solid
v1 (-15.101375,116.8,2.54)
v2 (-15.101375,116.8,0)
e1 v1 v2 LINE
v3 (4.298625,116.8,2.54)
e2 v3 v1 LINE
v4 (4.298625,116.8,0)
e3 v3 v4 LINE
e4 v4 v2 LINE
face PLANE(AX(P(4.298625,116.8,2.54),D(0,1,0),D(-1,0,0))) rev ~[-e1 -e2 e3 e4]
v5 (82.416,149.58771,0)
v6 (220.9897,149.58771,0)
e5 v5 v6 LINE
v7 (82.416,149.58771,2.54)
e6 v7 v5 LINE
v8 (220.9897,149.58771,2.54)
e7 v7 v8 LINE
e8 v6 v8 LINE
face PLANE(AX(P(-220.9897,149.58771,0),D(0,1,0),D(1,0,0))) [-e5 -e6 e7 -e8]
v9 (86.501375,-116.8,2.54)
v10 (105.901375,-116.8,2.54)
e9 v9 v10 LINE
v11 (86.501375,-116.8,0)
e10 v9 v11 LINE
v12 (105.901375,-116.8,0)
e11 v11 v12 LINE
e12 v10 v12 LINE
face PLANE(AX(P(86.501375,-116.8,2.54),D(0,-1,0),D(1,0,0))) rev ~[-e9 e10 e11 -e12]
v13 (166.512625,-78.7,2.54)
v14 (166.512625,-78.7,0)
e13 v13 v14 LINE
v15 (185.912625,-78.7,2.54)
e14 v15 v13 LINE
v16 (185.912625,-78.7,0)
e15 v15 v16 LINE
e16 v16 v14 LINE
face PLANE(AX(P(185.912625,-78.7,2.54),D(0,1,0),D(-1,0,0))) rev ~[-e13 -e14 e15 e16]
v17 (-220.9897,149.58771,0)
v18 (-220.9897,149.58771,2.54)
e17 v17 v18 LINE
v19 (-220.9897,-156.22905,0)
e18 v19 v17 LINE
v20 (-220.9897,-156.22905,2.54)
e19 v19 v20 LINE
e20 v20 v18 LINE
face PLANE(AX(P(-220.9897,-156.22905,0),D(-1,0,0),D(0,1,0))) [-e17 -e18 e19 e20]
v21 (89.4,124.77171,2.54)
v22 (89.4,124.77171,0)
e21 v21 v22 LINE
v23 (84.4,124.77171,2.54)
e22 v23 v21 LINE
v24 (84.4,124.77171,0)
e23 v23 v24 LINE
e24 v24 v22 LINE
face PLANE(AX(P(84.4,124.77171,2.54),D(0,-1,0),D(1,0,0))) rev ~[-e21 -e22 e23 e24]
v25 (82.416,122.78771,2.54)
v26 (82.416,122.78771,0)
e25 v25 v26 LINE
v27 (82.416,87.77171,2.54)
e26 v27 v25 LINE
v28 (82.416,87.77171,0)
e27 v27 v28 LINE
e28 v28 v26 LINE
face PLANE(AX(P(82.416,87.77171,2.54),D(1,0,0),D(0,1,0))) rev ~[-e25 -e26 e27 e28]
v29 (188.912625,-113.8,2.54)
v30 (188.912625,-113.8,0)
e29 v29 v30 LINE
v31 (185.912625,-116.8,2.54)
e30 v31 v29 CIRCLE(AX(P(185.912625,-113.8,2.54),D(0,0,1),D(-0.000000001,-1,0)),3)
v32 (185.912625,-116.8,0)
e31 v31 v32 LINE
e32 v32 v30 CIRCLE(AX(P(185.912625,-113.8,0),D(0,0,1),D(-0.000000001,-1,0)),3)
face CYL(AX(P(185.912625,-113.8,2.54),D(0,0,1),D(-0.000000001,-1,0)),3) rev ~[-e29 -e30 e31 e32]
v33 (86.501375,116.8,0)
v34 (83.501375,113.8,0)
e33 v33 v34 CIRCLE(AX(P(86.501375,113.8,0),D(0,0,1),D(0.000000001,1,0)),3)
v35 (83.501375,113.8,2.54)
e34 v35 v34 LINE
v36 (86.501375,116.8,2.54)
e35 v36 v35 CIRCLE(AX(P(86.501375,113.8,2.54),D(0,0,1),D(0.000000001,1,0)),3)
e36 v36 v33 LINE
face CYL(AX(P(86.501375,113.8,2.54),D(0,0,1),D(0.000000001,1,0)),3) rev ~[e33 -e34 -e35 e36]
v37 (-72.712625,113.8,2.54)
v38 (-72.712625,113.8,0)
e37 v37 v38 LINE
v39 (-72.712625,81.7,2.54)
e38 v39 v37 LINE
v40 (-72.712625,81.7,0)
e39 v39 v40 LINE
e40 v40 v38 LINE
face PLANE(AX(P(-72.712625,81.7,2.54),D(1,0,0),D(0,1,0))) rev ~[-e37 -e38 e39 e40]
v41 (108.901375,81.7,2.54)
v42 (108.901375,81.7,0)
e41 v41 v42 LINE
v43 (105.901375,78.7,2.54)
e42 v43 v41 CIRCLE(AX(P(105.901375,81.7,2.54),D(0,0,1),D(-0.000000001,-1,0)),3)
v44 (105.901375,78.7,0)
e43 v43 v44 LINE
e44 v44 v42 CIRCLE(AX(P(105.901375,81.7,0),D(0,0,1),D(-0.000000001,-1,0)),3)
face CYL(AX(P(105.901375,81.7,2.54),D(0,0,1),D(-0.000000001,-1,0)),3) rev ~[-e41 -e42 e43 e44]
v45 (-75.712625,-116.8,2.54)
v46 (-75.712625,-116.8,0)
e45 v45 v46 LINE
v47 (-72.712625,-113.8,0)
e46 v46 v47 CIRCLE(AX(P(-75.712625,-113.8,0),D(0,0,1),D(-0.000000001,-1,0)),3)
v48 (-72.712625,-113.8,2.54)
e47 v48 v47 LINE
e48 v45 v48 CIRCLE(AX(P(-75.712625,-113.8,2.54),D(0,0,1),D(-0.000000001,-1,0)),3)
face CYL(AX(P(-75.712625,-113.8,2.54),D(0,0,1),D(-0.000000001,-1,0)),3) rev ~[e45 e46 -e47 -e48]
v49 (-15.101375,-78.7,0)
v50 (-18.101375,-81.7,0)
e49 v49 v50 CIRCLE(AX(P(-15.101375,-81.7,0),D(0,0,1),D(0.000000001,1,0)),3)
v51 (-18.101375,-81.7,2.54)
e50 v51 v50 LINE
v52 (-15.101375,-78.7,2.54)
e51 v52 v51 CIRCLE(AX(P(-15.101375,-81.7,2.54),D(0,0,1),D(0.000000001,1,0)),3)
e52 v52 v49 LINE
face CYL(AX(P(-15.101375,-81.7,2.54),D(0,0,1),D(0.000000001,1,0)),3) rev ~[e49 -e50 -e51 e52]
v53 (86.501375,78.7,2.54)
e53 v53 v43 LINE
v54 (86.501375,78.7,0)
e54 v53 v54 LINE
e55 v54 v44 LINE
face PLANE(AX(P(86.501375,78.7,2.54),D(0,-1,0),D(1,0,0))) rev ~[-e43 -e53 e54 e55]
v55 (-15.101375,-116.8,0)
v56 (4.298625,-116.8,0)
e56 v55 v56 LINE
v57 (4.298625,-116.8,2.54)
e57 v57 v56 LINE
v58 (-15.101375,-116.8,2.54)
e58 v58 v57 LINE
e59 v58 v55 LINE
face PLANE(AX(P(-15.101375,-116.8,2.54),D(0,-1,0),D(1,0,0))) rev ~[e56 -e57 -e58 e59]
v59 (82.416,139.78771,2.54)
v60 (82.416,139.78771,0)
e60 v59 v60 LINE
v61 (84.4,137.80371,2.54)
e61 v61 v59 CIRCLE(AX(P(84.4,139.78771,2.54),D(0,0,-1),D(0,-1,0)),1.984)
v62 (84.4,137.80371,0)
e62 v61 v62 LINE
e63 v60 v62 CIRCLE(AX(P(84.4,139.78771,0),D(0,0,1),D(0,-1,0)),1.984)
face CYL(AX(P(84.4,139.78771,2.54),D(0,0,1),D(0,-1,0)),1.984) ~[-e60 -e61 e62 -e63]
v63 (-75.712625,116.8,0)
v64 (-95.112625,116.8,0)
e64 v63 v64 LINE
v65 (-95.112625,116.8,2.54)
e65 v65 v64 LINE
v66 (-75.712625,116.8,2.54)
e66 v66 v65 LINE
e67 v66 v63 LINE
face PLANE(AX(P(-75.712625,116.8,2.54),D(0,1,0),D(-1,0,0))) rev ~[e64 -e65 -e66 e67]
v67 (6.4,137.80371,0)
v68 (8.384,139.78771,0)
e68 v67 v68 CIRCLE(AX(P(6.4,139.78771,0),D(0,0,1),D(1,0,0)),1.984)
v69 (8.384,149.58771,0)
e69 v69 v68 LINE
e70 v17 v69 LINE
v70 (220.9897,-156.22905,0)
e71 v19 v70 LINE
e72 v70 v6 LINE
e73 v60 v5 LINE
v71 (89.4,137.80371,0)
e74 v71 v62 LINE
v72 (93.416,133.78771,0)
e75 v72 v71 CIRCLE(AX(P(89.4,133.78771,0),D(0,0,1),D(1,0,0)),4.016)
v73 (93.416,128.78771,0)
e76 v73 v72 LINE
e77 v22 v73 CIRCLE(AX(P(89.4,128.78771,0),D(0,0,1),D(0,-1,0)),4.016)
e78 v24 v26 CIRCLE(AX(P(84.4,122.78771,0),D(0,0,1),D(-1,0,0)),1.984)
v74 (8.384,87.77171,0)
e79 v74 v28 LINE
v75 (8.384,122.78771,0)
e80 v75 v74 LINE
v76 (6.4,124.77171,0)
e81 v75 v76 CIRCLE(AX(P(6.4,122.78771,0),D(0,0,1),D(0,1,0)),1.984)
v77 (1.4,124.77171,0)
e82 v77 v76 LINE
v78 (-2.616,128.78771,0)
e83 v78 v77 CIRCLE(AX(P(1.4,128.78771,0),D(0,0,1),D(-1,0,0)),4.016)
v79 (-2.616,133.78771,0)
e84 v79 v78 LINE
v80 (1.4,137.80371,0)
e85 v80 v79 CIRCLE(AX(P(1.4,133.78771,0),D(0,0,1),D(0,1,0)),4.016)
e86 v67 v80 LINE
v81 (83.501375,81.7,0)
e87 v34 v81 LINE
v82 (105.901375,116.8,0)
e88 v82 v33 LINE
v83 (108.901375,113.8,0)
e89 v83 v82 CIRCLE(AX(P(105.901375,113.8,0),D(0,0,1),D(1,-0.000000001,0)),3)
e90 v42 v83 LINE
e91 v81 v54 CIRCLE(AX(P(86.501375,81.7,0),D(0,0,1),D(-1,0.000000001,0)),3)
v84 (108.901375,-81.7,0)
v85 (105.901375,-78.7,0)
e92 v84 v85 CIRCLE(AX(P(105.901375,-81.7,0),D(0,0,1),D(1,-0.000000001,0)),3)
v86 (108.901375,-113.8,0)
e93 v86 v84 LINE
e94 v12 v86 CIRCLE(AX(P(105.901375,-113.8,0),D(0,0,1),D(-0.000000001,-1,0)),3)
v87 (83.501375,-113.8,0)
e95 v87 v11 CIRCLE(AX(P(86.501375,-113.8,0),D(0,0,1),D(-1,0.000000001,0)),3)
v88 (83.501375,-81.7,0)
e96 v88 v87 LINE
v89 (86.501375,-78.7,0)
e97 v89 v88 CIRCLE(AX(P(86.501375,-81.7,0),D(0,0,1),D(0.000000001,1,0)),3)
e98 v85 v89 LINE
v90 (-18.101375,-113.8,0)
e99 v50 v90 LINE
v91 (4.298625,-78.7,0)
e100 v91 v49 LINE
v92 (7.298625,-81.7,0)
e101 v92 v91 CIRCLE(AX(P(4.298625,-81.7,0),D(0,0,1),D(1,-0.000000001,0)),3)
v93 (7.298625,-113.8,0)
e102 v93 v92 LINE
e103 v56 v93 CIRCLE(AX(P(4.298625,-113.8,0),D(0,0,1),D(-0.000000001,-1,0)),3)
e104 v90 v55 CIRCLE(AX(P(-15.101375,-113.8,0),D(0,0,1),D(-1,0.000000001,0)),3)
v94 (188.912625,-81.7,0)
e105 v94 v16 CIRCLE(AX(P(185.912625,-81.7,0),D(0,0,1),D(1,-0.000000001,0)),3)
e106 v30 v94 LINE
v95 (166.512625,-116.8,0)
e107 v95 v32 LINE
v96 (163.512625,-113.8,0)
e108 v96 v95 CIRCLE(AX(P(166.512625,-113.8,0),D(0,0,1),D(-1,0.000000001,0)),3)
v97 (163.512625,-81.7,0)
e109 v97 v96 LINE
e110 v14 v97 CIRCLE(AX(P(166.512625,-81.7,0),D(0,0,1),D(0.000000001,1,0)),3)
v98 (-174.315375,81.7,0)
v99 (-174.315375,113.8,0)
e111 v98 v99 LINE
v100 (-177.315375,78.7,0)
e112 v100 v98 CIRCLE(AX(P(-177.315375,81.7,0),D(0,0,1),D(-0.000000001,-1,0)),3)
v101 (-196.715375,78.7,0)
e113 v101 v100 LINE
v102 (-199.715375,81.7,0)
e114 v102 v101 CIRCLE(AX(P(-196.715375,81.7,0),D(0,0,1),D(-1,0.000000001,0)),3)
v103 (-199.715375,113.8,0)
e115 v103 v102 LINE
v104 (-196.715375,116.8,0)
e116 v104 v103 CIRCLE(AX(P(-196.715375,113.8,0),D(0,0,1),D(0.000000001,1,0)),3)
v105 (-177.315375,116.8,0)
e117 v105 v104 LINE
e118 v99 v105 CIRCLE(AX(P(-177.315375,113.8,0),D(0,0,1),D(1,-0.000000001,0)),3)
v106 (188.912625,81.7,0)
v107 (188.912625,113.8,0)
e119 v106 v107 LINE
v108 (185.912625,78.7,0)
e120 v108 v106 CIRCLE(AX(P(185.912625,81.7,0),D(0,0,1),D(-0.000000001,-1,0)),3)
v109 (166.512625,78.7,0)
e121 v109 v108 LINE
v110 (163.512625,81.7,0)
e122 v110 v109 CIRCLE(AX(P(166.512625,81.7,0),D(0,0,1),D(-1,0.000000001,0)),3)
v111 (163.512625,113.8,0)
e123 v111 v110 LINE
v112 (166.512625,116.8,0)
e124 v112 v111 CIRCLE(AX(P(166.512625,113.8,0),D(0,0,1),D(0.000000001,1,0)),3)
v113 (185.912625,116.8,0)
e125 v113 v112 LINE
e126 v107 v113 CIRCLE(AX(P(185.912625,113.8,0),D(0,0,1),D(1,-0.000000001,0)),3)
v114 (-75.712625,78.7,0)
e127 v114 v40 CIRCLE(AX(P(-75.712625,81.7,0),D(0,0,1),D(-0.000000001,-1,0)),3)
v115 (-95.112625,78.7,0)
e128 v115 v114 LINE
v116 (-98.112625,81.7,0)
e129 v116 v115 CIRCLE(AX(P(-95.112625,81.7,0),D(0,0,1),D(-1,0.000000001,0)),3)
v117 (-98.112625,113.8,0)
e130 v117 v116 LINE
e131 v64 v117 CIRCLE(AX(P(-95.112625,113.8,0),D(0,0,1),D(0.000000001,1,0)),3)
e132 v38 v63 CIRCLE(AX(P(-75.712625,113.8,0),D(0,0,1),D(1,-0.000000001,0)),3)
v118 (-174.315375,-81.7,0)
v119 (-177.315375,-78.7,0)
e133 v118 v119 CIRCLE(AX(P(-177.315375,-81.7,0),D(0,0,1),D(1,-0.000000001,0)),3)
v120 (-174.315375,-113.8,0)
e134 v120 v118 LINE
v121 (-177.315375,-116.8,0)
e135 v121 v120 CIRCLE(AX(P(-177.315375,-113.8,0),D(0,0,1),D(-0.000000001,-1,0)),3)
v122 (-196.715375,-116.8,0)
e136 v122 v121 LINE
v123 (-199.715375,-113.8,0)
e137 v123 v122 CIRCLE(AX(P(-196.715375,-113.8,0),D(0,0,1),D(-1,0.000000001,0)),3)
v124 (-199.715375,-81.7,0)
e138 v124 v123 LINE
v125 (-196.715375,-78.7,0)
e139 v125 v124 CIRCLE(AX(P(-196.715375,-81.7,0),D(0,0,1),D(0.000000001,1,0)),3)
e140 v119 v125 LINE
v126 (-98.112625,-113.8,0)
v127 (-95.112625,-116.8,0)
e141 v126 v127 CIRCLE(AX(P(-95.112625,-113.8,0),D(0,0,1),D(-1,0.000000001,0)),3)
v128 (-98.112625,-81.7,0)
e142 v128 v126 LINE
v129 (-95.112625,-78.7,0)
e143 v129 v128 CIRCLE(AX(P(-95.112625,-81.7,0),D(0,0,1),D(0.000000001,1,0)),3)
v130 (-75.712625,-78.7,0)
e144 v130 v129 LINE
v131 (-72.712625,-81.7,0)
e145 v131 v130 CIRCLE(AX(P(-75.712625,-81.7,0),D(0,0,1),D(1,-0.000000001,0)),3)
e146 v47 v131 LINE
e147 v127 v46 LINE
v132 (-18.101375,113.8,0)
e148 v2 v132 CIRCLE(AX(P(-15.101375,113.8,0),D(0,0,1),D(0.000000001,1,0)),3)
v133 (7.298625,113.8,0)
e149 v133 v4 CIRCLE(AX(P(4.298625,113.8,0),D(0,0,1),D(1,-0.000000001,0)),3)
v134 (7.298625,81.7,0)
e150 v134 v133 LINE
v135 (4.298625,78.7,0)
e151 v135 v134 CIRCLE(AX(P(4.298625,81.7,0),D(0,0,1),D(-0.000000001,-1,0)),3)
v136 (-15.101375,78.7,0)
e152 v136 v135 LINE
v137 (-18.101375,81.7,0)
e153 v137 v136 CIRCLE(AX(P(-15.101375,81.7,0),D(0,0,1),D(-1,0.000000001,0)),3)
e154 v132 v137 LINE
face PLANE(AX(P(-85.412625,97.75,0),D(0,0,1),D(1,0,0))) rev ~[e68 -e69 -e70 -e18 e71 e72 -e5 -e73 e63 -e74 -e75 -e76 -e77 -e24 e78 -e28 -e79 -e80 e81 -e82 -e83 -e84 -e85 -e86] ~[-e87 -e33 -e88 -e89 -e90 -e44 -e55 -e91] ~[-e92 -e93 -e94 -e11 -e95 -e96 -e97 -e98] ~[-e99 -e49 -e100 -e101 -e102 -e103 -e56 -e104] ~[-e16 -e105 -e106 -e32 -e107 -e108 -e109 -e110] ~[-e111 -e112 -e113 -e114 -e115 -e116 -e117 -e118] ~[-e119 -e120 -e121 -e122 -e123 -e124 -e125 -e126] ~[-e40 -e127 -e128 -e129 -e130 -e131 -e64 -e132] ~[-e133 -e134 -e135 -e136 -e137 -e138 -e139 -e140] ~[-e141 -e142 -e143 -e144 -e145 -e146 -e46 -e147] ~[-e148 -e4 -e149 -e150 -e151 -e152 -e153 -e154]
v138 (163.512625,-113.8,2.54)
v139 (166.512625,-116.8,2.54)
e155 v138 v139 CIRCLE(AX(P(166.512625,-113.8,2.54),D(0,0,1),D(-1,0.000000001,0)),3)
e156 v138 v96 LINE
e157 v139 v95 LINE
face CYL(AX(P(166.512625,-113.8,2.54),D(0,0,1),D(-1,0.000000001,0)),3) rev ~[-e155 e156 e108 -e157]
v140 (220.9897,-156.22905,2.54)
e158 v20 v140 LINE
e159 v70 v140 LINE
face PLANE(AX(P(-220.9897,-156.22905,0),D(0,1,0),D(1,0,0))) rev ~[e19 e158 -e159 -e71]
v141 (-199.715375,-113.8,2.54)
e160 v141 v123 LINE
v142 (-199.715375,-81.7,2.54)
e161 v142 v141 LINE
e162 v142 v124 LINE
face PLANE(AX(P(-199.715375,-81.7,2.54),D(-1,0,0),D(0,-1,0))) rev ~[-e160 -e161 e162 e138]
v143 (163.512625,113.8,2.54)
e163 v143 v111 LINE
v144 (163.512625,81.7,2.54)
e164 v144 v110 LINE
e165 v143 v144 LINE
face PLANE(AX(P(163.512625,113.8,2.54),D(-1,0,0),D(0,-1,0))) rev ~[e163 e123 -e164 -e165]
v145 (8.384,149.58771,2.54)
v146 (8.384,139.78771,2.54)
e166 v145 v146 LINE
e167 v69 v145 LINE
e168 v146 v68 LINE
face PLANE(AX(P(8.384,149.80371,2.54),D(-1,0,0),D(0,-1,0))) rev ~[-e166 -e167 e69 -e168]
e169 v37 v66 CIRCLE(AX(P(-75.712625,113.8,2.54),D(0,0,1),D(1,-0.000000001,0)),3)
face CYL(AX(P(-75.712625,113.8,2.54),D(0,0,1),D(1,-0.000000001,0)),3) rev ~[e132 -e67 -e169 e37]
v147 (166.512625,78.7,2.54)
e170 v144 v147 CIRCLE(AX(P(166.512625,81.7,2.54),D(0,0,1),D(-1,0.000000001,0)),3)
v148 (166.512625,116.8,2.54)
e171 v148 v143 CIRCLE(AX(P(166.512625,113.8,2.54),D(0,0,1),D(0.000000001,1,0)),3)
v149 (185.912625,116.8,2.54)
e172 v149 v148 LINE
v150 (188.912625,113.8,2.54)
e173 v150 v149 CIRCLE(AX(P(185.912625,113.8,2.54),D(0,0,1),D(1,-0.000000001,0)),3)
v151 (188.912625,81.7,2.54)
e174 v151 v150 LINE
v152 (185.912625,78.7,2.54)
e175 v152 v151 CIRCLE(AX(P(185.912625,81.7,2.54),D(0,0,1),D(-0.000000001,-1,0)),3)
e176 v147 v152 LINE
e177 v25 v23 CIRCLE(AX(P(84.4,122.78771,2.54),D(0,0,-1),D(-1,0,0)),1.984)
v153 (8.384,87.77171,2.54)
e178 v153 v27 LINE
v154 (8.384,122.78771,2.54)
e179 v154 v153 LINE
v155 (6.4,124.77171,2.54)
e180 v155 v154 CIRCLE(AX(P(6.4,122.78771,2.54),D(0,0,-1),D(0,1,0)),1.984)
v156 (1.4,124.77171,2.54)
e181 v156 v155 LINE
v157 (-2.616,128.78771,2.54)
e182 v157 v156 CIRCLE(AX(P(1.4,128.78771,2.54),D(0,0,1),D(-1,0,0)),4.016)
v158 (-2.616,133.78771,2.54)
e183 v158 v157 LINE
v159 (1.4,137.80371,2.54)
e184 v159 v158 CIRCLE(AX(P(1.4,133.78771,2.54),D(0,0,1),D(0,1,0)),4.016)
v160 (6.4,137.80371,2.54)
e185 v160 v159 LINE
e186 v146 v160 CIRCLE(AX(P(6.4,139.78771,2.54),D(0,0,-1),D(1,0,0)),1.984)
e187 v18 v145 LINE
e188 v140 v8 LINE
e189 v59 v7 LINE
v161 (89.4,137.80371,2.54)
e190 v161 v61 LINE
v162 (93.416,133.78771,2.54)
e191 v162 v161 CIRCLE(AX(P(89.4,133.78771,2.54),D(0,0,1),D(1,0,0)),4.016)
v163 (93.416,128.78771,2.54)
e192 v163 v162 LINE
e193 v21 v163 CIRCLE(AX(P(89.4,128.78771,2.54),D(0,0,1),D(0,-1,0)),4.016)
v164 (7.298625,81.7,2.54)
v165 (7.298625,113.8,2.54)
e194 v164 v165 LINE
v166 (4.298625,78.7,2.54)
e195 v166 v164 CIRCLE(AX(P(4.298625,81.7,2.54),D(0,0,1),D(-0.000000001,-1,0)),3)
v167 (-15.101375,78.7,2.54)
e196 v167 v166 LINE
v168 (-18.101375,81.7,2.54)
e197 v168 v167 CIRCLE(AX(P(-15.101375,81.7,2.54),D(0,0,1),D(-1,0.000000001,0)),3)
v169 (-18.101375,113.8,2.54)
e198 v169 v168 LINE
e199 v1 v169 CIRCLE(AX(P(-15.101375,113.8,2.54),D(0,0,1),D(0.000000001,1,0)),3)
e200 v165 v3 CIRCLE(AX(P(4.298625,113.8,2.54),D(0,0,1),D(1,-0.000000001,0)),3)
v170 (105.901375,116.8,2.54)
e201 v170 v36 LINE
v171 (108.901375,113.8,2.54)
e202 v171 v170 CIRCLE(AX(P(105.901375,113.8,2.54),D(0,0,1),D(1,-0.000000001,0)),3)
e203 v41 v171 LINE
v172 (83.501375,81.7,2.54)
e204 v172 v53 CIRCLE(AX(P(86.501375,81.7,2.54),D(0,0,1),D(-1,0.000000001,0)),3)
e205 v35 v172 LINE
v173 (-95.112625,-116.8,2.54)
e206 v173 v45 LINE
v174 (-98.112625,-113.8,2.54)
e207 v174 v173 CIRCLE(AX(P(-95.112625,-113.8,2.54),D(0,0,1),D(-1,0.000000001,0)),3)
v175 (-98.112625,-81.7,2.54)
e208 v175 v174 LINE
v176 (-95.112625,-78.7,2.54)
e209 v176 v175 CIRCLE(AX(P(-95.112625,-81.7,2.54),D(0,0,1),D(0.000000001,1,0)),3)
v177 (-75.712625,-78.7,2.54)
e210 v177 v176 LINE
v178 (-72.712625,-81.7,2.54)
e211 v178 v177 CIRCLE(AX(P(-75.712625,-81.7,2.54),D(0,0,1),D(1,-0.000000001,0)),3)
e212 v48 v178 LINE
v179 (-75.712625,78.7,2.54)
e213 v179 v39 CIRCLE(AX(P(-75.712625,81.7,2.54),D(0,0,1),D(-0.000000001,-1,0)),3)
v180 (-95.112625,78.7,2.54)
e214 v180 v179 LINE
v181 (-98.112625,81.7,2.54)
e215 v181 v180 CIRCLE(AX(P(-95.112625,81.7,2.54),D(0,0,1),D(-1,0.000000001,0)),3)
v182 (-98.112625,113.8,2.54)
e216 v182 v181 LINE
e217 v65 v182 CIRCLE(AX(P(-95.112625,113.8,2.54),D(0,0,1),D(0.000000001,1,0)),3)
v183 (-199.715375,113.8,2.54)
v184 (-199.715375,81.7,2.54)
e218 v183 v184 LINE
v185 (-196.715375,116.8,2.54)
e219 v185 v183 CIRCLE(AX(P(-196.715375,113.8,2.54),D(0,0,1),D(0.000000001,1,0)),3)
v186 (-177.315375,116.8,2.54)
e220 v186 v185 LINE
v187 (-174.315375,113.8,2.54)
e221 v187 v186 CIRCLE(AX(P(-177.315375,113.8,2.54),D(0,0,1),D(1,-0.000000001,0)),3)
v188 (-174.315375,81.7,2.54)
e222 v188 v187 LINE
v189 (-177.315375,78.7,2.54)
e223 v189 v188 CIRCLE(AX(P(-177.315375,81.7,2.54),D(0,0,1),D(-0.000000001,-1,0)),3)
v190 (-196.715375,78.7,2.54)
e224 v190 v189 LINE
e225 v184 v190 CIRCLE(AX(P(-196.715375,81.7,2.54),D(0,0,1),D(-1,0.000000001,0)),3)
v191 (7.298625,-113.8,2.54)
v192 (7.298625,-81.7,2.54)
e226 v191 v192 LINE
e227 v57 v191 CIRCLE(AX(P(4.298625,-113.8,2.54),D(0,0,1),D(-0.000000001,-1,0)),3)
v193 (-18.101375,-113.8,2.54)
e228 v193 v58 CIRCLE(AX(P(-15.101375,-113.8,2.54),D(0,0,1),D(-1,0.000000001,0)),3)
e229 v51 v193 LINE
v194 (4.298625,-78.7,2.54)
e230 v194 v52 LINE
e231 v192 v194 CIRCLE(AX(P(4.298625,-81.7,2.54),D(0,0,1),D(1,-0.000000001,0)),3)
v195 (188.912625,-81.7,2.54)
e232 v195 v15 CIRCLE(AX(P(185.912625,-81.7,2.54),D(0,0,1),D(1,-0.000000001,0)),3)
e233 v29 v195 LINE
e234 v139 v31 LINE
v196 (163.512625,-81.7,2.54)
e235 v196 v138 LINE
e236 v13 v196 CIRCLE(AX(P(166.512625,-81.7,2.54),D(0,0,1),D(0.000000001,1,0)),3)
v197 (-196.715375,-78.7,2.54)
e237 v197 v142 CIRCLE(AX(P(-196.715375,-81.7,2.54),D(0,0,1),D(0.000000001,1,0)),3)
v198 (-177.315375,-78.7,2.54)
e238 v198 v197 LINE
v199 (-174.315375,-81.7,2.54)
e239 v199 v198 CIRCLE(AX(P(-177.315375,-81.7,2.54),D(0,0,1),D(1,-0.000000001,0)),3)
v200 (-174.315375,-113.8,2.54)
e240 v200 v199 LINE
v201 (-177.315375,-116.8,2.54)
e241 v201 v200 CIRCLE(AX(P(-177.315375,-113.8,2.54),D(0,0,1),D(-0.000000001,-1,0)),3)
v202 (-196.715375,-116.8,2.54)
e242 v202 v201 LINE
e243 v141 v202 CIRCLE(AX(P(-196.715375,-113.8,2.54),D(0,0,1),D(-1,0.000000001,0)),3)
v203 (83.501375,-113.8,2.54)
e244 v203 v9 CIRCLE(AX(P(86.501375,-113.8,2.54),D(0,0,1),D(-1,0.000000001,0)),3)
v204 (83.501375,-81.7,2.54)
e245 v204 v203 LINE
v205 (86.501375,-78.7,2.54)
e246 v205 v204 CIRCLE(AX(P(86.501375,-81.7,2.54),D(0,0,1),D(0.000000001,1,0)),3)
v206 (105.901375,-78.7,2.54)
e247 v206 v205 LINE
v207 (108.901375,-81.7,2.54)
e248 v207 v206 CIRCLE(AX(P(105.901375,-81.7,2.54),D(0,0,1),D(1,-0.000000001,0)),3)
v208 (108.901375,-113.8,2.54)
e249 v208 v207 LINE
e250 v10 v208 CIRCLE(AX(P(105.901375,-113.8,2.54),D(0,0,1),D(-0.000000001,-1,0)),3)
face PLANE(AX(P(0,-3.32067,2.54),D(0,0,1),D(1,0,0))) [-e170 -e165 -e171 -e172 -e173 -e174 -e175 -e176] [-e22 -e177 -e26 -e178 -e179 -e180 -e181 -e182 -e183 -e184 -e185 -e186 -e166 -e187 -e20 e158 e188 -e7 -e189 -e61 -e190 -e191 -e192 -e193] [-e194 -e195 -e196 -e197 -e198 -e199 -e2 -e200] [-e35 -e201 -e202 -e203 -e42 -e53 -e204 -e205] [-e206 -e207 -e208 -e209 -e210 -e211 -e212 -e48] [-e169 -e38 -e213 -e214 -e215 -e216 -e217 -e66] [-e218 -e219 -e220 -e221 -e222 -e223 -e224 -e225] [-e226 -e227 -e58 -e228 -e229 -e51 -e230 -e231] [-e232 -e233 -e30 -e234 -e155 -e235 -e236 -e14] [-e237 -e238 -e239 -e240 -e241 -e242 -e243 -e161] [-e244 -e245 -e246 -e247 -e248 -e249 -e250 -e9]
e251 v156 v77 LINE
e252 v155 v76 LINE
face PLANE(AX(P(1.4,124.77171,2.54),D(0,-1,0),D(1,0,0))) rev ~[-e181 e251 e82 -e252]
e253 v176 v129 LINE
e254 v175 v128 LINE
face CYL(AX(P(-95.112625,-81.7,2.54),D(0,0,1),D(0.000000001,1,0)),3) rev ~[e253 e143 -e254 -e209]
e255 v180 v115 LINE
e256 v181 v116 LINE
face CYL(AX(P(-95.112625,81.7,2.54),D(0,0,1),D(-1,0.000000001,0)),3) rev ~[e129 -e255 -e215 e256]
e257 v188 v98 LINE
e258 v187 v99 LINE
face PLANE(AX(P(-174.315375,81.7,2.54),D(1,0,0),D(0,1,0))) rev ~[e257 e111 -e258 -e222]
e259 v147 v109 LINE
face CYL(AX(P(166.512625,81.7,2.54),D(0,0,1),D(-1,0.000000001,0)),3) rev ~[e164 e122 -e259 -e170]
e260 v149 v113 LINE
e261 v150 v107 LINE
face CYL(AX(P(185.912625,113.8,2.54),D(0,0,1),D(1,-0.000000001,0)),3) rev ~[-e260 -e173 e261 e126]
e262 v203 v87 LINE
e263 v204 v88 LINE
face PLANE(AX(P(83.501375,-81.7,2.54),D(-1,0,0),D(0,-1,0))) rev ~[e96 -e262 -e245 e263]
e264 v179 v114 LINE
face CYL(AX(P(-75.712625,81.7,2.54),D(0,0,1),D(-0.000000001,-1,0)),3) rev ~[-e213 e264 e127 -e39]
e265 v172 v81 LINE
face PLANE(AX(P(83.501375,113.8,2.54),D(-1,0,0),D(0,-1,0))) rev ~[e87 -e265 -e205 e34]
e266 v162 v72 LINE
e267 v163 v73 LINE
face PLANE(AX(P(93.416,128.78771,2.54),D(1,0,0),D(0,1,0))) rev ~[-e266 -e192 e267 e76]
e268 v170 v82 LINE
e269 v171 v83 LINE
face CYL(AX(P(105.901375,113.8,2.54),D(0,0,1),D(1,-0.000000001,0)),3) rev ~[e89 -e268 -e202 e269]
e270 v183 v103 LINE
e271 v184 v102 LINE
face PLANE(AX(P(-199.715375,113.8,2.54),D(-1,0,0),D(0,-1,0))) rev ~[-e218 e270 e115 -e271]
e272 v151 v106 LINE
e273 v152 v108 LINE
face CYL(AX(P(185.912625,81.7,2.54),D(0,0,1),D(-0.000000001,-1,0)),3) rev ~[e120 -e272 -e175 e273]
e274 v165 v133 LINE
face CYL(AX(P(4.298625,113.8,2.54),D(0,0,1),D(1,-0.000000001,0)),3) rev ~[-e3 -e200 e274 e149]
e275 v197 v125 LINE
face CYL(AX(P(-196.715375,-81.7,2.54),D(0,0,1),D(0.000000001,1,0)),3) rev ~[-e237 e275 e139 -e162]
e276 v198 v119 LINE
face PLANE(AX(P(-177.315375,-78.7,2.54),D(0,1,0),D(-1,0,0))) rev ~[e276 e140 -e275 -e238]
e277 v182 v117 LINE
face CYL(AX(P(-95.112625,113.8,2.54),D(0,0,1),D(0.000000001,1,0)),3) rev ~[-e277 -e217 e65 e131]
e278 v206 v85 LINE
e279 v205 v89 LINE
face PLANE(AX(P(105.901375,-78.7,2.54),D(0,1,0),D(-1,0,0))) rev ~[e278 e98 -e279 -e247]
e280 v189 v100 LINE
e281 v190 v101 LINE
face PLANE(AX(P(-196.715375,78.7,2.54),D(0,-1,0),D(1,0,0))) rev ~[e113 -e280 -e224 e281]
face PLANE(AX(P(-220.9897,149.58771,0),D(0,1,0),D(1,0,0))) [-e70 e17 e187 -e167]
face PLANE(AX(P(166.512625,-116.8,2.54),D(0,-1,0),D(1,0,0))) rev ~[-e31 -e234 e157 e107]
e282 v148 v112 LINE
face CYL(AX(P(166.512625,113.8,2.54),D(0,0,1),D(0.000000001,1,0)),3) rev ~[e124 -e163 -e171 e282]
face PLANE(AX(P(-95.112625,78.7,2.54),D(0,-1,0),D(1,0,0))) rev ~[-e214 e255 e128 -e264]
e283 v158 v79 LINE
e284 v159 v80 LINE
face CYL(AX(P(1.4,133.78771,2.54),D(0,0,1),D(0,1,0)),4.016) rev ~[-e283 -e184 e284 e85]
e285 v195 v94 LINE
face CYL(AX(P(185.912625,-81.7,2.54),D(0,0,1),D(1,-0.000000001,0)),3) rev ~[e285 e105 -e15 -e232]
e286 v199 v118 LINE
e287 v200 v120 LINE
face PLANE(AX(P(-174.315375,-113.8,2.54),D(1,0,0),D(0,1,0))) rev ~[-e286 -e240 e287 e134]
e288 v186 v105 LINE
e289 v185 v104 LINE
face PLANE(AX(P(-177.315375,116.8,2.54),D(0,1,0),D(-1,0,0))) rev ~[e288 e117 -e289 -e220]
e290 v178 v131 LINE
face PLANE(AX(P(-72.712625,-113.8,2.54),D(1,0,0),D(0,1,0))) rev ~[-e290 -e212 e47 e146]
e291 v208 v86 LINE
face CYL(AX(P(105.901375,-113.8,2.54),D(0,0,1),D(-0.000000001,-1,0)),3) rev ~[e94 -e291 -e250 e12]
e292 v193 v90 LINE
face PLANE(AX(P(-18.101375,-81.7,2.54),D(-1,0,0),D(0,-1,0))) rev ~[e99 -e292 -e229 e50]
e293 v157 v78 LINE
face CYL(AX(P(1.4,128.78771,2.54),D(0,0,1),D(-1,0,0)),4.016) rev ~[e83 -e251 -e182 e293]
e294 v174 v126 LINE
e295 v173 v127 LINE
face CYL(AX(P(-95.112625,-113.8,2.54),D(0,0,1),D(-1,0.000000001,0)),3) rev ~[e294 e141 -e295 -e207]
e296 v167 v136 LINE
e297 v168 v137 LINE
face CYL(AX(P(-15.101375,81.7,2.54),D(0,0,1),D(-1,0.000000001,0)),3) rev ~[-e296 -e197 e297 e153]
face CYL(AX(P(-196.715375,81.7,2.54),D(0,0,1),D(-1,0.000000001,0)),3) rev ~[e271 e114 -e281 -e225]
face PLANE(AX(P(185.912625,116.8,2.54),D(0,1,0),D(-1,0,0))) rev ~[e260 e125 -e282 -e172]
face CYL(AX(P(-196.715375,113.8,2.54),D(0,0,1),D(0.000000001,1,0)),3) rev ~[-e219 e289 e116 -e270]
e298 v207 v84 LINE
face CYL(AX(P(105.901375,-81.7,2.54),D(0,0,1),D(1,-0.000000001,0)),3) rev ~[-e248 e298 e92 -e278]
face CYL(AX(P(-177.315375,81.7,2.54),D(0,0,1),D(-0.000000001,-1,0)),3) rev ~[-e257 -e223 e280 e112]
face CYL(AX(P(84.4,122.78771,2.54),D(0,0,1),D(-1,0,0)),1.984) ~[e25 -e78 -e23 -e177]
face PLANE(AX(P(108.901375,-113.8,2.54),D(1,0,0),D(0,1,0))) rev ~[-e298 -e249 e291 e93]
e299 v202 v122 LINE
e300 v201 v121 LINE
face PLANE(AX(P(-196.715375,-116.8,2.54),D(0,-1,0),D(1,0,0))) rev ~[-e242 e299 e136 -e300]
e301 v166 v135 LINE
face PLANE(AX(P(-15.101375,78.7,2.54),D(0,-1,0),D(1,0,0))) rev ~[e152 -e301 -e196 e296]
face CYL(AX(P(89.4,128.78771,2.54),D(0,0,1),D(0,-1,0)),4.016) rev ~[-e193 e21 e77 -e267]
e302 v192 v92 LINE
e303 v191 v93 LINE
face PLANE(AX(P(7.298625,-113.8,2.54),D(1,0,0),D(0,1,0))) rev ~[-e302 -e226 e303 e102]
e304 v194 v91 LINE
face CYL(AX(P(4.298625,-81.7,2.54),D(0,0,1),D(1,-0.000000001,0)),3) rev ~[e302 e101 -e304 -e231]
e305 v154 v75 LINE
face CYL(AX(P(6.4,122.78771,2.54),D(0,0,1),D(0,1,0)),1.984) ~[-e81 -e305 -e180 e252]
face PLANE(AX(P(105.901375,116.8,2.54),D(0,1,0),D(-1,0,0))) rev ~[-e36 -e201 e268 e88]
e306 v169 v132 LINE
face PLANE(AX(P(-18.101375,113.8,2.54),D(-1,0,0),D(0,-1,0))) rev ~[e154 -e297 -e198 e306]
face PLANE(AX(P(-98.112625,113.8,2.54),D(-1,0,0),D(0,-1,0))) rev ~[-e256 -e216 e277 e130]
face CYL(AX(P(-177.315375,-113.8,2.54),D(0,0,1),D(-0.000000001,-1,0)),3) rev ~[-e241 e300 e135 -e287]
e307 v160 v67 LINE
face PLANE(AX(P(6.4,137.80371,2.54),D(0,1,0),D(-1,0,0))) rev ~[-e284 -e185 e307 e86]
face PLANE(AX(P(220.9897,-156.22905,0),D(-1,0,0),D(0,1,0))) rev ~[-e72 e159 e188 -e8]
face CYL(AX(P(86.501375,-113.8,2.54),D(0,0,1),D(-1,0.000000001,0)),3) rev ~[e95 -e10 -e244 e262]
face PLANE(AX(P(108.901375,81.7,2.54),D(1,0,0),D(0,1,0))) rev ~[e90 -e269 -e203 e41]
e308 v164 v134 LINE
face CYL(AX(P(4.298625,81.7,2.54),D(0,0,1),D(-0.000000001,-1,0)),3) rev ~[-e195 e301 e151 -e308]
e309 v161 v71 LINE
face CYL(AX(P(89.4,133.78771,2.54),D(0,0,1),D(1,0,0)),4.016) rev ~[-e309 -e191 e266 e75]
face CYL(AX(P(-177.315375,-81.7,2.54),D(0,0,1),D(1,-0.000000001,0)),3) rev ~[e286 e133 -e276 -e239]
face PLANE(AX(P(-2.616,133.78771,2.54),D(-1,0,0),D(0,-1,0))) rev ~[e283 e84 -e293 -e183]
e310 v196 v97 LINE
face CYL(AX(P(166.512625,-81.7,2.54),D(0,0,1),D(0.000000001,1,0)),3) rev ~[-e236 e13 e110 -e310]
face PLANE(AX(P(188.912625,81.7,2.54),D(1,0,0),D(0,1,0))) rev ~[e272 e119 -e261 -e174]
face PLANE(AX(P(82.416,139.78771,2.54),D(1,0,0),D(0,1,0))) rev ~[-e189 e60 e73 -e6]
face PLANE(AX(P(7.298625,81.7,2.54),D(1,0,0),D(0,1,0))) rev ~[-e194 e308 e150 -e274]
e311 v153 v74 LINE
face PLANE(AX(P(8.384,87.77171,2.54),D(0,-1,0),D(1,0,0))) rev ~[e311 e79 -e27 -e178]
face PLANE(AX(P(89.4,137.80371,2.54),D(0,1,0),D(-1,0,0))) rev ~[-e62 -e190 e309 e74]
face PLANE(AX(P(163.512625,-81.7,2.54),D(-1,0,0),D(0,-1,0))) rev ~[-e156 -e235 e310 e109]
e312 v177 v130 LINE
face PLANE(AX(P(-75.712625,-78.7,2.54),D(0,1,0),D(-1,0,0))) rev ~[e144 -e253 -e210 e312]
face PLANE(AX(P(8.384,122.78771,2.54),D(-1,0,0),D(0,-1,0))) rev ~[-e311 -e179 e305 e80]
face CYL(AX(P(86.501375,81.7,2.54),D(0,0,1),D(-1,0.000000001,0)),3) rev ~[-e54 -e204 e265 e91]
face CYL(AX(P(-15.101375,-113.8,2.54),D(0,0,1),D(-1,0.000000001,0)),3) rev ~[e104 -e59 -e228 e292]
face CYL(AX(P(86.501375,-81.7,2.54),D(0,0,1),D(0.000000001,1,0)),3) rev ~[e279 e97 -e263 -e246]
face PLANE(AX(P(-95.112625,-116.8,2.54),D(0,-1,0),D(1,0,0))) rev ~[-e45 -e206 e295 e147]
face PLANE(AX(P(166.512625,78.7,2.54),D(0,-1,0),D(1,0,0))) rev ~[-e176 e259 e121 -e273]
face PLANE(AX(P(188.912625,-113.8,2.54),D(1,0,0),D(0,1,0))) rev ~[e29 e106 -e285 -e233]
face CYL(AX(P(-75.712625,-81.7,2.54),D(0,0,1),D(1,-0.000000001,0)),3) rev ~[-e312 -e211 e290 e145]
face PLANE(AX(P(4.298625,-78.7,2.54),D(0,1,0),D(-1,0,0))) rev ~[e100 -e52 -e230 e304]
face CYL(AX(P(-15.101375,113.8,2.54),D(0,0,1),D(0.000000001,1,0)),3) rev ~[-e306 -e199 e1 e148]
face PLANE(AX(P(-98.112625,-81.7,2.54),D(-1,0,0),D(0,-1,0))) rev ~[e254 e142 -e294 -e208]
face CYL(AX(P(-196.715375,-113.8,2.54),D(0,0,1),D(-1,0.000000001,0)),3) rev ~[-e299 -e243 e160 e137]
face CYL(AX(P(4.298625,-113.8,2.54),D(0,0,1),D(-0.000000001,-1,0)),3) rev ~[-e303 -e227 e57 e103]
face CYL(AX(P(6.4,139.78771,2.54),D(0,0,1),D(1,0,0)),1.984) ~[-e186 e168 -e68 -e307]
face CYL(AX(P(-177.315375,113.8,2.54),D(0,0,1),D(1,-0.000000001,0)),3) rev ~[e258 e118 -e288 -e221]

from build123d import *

# Parameters (mm, degrees)
SKETCH1_W           = 441.979400076
SKETCH1_H           = 305.81676
BOSS_EXTRUDE1_DEPTH = 2.54
CUT_EXTRUDE1_DEPTH  = 271.648139079
LPATTERN1_COUNT     = 3
LPATTERN1_PITCH     = 181.613999992
CUT_EXTRUDE2_DEPTH  = 271.648139079
LPATTERN2_COUNT     = 2
LPATTERN2_PITCH     = 181.613999992
CUT_EXTRUDE3_DEPTH  = 271.648139079


with BuildPart() as part:
    # Sketch1 → Boss-Extrude1 (new body)
    # profile 1 of 5: a face of its own
    with BuildSketch(Plane.XY):
        with Locations((0, -3.32067)):
            Rectangle(SKETCH1_W, SKETCH1_H)
        with BuildLine():
            ThreePointArc((-98.112625, -113.8), (-97.233945344, -115.921320344), (-95.112625, -116.8))
            Line((-95.112625, -116.8), (-75.712625, -116.8))
            ThreePointArc((-75.712625, -116.8), (-73.591304656, -115.921320344), (-72.712625, -113.8))
            Line((-72.712625, -113.8), (-72.712625, -81.7))
            ThreePointArc((-72.712625, -81.7), (-73.591304656, -79.578679656), (-75.712625, -78.7))
            Line((-75.712625, -78.7), (-95.112625, -78.7))
            ThreePointArc((-95.112625, -78.7), (-97.233945344, -79.578679656), (-98.112625, -81.7))
            Line((-98.112625, -81.7), (-98.112625, -113.8))
        make_face(mode=Mode.SUBTRACT)
        with BuildLine():
            ThreePointArc((-98.112625, 81.7), (-97.233945344, 79.578679656), (-95.112625, 78.7))
            Line((-95.112625, 78.7), (-75.712625, 78.7))
            ThreePointArc((-75.712625, 78.7), (-73.591304656, 79.578679656), (-72.712625, 81.7))
            Line((-72.712625, 81.7), (-72.712625, 113.8))
            ThreePointArc((-72.712625, 113.8), (-73.591304656, 115.921320344), (-75.712625, 116.8))
            Line((-75.712625, 116.8), (-95.112625, 116.8))
            ThreePointArc((-95.112625, 116.8), (-97.233945344, 115.921320344), (-98.112625, 113.8))
            Line((-98.112625, 113.8), (-98.112625, 81.7))
        make_face(mode=Mode.SUBTRACT)
        with BuildLine():
            ThreePointArc((-199.715375, -113.8), (-198.836695344, -115.921320344), (-196.715375, -116.8))
            Line((-196.715375, -116.8), (-177.315375, -116.8))
            ThreePointArc((-177.315375, -116.8), (-175.194054656, -115.921320344), (-174.315375, -113.8))
            Line((-174.315375, -113.8), (-174.315375, -81.7))
            ThreePointArc((-174.315375, -81.7), (-175.194054656, -79.578679656), (-177.315375, -78.7))
            Line((-177.315375, -78.7), (-196.715375, -78.7))
            ThreePointArc((-196.715375, -78.7), (-198.836695344, -79.578679656), (-199.715375, -81.7))
            Line((-199.715375, -81.7), (-199.715375, -113.8))
        make_face(mode=Mode.SUBTRACT)
        with BuildLine():
            ThreePointArc((-199.715375, 81.7), (-198.836695344, 79.578679656), (-196.715375, 78.7))
            Line((-196.715375, 78.7), (-177.315375, 78.7))
            ThreePointArc((-177.315375, 78.7), (-175.194054656, 79.578679656), (-174.315375, 81.7))
            Line((-174.315375, 81.7), (-174.315375, 113.8))
            ThreePointArc((-174.315375, 113.8), (-175.194054656, 115.921320344), (-177.315375, 116.8))
            Line((-177.315375, 116.8), (-196.715375, 116.8))
            ThreePointArc((-196.715375, 116.8), (-198.836695344, 115.921320344), (-199.715375, 113.8))
            Line((-199.715375, 113.8), (-199.715375, 81.7))
        make_face(mode=Mode.SUBTRACT)
    # profile 2 of 5: a face of its own
    with BuildSketch(Plane.XY):
        with BuildLine():
            Line((-199.715375, -113.8), (-199.715375, -81.7))
            ThreePointArc((-199.715375, -81.7), (-198.836695344, -79.578679656), (-196.715375, -78.7))
            Line((-196.715375, -78.7), (-177.315375, -78.7))
            ThreePointArc((-177.315375, -78.7), (-175.194054656, -79.578679656), (-174.315375, -81.7))
            Line((-174.315375, -81.7), (-174.315375, -113.8))
            ThreePointArc((-174.315375, -113.8), (-175.194054656, -115.921320344), (-177.315375, -116.8))
            Line((-177.315375, -116.8), (-196.715375, -116.8))
            ThreePointArc((-196.715375, -116.8), (-198.836695344, -115.921320344), (-199.715375, -113.8))
        make_face()
    # profile 3 of 5: a face of its own
    with BuildSketch(Plane.XY):
        with BuildLine():
            Line((-98.112625, -113.8), (-98.112625, -81.7))
            ThreePointArc((-98.112625, -81.7), (-97.233945344, -79.578679656), (-95.112625, -78.7))
            Line((-95.112625, -78.7), (-75.712625, -78.7))
            ThreePointArc((-75.712625, -78.7), (-73.591304656, -79.578679656), (-72.712625, -81.7))
            Line((-72.712625, -81.7), (-72.712625, -113.8))
            ThreePointArc((-72.712625, -113.8), (-73.591304656, -115.921320344), (-75.712625, -116.8))
            Line((-75.712625, -116.8), (-95.112625, -116.8))
            ThreePointArc((-95.112625, -116.8), (-97.233945344, -115.921320344), (-98.112625, -113.8))
        make_face()
    # profile 4 of 5: a face of its own
    with BuildSketch(Plane.XY):
        with BuildLine():
            Line((-199.715375, 113.8), (-199.715375, 81.7))
            ThreePointArc((-199.715375, 81.7), (-198.836695344, 79.578679656), (-196.715375, 78.7))
            Line((-196.715375, 78.7), (-177.315375, 78.7))
            ThreePointArc((-177.315375, 78.7), (-175.194054656, 79.578679656), (-174.315375, 81.7))
            Line((-174.315375, 81.7), (-174.315375, 113.8))
            ThreePointArc((-174.315375, 113.8), (-175.194054656, 115.921320344), (-177.315375, 116.8))
            Line((-177.315375, 116.8), (-196.715375, 116.8))
            ThreePointArc((-196.715375, 116.8), (-198.836695344, 115.921320344), (-199.715375, 113.8))
        make_face()
    # profile 5 of 5: a face of its own
    with BuildSketch(Plane.XY):
        with BuildLine():
            Line((-98.112625, 113.8), (-98.112625, 81.7))
            ThreePointArc((-98.112625, 81.7), (-97.233945344, 79.578679656), (-95.112625, 78.7))
            Line((-95.112625, 78.7), (-75.712625, 78.7))
            ThreePointArc((-75.712625, 78.7), (-73.591304656, 79.578679656), (-72.712625, 81.7))
            Line((-72.712625, 81.7), (-72.712625, 113.8))
            ThreePointArc((-72.712625, 113.8), (-73.591304656, 115.921320344), (-75.712625, 116.8))
            Line((-75.712625, 116.8), (-95.112625, 116.8))
            ThreePointArc((-95.112625, 116.8), (-97.233945344, 115.921320344), (-98.112625, 113.8))
        make_face()
    extrude(amount=BOSS_EXTRUDE1_DEPTH)

    # Sketch2 → Cut-Extrude1 (cut, through all)
    with BuildSketch(Plane.XY.offset(2.54)):
        with BuildLine():
            Line((-196.715375, 78.7), (-177.315375, 78.7))
            ThreePointArc((-177.315375, 78.7), (-175.194054656, 79.578679656), (-174.315375, 81.7))
            Line((-174.315375, 81.7), (-174.315375, 113.8))
            ThreePointArc((-174.315375, 113.8), (-175.194054656, 115.921320344), (-177.315375, 116.8))
            Line((-177.315375, 116.8), (-196.715375, 116.8))
            ThreePointArc((-196.715375, 116.8), (-198.836695344, 115.921320344), (-199.715375, 113.8))
            Line((-199.715375, 113.8), (-199.715375, 81.7))
            ThreePointArc((-199.715375, 81.7), (-198.836695344, 79.578679656), (-196.715375, 78.7))
        make_face()
        with BuildLine():
            Line((-199.715375, -81.7), (-199.715375, -113.8))
            ThreePointArc((-199.715375, -113.8), (-198.836695344, -115.921320344), (-196.715375, -116.8))
            Line((-196.715375, -116.8), (-177.315375, -116.8))
            ThreePointArc((-177.315375, -116.8), (-175.194054656, -115.921320344), (-174.315375, -113.8))
            Line((-174.315375, -113.8), (-174.315375, -81.7))
            ThreePointArc((-174.315375, -81.7), (-175.194054656, -79.578679656), (-177.315375, -78.7))
            Line((-177.315375, -78.7), (-196.715375, -78.7))
            ThreePointArc((-196.715375, -78.7), (-198.836695344, -79.578679656), (-199.715375, -81.7))
        make_face()
    cut_extrude1 = extrude(amount=-CUT_EXTRUDE1_DEPTH, mode=Mode.SUBTRACT)

    # LPattern1: Cut-Extrude1 ×3
    with Locations(*[(i * LPATTERN1_PITCH, 0, 0) for i in range(1, LPATTERN1_COUNT)]):
        add(cut_extrude1, mode=Mode.SUBTRACT)

    # Sketch3 → Cut-Extrude2 (cut, through all)
    with BuildSketch(Plane.XY.offset(2.54)):
        with BuildLine():
            Line((-72.712625, 81.7), (-72.712625, 113.8))
            ThreePointArc((-72.712625, 113.8), (-73.591304656, 115.921320344), (-75.712625, 116.8))
            Line((-75.712625, 116.8), (-95.112625, 116.8))
            ThreePointArc((-95.112625, 116.8), (-97.233945344, 115.921320344), (-98.112625, 113.8))
            Line((-98.112625, 113.8), (-98.112625, 81.7))
            ThreePointArc((-98.112625, 81.7), (-97.233945344, 79.578679656), (-95.112625, 78.7))
            Line((-95.112625, 78.7), (-75.712625, 78.7))
            ThreePointArc((-75.712625, 78.7), (-73.591304656, 79.578679656), (-72.712625, 81.7))
        make_face()
        with BuildLine():
            Line((-72.712625, -113.8), (-72.712625, -81.7))
            ThreePointArc((-72.712625, -81.7), (-73.591304656, -79.578679656), (-75.712625, -78.7))
            Line((-75.712625, -78.7), (-95.112625, -78.7))
            ThreePointArc((-95.112625, -78.7), (-97.233945344, -79.578679656), (-98.112625, -81.7))
            Line((-98.112625, -81.7), (-98.112625, -113.8))
            ThreePointArc((-98.112625, -113.8), (-97.233945344, -115.921320344), (-95.112625, -116.8))
            Line((-95.112625, -116.8), (-75.712625, -116.8))
            ThreePointArc((-75.712625, -116.8), (-73.591304656, -115.921320344), (-72.712625, -113.8))
        make_face()
    cut_extrude2 = extrude(amount=-CUT_EXTRUDE2_DEPTH, mode=Mode.SUBTRACT)

    # LPattern2: Cut-Extrude2 ×2
    with Locations(*[(i * LPATTERN2_PITCH, 0, 0) for i in range(1, LPATTERN2_COUNT)]):
        add(cut_extrude2, mode=Mode.SUBTRACT)

    # Sketch5 → Cut-Extrude3 (cut, through all)
    with BuildSketch(Plane.XY.offset(2.54)):
        with BuildLine():
            ThreePointArc((8.383999992, 139.78771), (7.802899846, 138.384810146), (6.399999992, 137.80371))
            Line((6.399999992, 137.80371), (1.399999992, 137.80371))
            ThreePointArc((1.399999992, 137.80371), (-1.439740841, 136.627450833), (-2.616000008, 133.78771))
            Line((-2.616000008, 133.78771), (-2.616000008, 128.78771))
            ThreePointArc((-2.616000008, 128.78771), (-1.439740841, 125.947969167), (1.399999992, 124.77171))
            Line((1.399999992, 124.77171), (6.399999992, 124.77171))
            ThreePointArc((6.399999992, 124.77171), (7.802899846, 124.190609854), (8.383999992, 122.78771))
            Line((8.383999992, 122.78771), (8.383999992, 87.77171))
            Line((8.383999992, 87.77171), (82.415999992, 87.77171))
            Line((82.415999992, 87.77171), (82.415999992, 122.78771))
            ThreePointArc((82.415999992, 122.78771), (82.997100138, 124.190609854), (84.399999992, 124.77171))
            Line((84.399999992, 124.77171), (89.399999992, 124.77171))
            ThreePointArc((89.399999992, 124.77171), (92.239740825, 125.947969167), (93.415999992, 128.78771))
            Line((93.415999992, 128.78771), (93.415999992, 133.78771))
            ThreePointArc((93.415999992, 133.78771), (92.239740825, 136.627450833), (89.399999992, 137.80371))
            Line((89.399999992, 137.80371), (84.399999992, 137.80371))
            ThreePointArc((84.399999992, 137.80371), (82.997100138, 138.384810146), (82.415999992, 139.78771))
            Line((82.415999992, 139.78771), (82.415999992, 149.80371))
            Line((82.415999992, 149.80371), (8.383999992, 149.80371))
            Line((8.383999992, 149.80371), (8.383999992, 139.78771))
        make_face()
    extrude(amount=-CUT_EXTRUDE3_DEPTH, mode=Mode.SUBTRACT)


solid = part.part
